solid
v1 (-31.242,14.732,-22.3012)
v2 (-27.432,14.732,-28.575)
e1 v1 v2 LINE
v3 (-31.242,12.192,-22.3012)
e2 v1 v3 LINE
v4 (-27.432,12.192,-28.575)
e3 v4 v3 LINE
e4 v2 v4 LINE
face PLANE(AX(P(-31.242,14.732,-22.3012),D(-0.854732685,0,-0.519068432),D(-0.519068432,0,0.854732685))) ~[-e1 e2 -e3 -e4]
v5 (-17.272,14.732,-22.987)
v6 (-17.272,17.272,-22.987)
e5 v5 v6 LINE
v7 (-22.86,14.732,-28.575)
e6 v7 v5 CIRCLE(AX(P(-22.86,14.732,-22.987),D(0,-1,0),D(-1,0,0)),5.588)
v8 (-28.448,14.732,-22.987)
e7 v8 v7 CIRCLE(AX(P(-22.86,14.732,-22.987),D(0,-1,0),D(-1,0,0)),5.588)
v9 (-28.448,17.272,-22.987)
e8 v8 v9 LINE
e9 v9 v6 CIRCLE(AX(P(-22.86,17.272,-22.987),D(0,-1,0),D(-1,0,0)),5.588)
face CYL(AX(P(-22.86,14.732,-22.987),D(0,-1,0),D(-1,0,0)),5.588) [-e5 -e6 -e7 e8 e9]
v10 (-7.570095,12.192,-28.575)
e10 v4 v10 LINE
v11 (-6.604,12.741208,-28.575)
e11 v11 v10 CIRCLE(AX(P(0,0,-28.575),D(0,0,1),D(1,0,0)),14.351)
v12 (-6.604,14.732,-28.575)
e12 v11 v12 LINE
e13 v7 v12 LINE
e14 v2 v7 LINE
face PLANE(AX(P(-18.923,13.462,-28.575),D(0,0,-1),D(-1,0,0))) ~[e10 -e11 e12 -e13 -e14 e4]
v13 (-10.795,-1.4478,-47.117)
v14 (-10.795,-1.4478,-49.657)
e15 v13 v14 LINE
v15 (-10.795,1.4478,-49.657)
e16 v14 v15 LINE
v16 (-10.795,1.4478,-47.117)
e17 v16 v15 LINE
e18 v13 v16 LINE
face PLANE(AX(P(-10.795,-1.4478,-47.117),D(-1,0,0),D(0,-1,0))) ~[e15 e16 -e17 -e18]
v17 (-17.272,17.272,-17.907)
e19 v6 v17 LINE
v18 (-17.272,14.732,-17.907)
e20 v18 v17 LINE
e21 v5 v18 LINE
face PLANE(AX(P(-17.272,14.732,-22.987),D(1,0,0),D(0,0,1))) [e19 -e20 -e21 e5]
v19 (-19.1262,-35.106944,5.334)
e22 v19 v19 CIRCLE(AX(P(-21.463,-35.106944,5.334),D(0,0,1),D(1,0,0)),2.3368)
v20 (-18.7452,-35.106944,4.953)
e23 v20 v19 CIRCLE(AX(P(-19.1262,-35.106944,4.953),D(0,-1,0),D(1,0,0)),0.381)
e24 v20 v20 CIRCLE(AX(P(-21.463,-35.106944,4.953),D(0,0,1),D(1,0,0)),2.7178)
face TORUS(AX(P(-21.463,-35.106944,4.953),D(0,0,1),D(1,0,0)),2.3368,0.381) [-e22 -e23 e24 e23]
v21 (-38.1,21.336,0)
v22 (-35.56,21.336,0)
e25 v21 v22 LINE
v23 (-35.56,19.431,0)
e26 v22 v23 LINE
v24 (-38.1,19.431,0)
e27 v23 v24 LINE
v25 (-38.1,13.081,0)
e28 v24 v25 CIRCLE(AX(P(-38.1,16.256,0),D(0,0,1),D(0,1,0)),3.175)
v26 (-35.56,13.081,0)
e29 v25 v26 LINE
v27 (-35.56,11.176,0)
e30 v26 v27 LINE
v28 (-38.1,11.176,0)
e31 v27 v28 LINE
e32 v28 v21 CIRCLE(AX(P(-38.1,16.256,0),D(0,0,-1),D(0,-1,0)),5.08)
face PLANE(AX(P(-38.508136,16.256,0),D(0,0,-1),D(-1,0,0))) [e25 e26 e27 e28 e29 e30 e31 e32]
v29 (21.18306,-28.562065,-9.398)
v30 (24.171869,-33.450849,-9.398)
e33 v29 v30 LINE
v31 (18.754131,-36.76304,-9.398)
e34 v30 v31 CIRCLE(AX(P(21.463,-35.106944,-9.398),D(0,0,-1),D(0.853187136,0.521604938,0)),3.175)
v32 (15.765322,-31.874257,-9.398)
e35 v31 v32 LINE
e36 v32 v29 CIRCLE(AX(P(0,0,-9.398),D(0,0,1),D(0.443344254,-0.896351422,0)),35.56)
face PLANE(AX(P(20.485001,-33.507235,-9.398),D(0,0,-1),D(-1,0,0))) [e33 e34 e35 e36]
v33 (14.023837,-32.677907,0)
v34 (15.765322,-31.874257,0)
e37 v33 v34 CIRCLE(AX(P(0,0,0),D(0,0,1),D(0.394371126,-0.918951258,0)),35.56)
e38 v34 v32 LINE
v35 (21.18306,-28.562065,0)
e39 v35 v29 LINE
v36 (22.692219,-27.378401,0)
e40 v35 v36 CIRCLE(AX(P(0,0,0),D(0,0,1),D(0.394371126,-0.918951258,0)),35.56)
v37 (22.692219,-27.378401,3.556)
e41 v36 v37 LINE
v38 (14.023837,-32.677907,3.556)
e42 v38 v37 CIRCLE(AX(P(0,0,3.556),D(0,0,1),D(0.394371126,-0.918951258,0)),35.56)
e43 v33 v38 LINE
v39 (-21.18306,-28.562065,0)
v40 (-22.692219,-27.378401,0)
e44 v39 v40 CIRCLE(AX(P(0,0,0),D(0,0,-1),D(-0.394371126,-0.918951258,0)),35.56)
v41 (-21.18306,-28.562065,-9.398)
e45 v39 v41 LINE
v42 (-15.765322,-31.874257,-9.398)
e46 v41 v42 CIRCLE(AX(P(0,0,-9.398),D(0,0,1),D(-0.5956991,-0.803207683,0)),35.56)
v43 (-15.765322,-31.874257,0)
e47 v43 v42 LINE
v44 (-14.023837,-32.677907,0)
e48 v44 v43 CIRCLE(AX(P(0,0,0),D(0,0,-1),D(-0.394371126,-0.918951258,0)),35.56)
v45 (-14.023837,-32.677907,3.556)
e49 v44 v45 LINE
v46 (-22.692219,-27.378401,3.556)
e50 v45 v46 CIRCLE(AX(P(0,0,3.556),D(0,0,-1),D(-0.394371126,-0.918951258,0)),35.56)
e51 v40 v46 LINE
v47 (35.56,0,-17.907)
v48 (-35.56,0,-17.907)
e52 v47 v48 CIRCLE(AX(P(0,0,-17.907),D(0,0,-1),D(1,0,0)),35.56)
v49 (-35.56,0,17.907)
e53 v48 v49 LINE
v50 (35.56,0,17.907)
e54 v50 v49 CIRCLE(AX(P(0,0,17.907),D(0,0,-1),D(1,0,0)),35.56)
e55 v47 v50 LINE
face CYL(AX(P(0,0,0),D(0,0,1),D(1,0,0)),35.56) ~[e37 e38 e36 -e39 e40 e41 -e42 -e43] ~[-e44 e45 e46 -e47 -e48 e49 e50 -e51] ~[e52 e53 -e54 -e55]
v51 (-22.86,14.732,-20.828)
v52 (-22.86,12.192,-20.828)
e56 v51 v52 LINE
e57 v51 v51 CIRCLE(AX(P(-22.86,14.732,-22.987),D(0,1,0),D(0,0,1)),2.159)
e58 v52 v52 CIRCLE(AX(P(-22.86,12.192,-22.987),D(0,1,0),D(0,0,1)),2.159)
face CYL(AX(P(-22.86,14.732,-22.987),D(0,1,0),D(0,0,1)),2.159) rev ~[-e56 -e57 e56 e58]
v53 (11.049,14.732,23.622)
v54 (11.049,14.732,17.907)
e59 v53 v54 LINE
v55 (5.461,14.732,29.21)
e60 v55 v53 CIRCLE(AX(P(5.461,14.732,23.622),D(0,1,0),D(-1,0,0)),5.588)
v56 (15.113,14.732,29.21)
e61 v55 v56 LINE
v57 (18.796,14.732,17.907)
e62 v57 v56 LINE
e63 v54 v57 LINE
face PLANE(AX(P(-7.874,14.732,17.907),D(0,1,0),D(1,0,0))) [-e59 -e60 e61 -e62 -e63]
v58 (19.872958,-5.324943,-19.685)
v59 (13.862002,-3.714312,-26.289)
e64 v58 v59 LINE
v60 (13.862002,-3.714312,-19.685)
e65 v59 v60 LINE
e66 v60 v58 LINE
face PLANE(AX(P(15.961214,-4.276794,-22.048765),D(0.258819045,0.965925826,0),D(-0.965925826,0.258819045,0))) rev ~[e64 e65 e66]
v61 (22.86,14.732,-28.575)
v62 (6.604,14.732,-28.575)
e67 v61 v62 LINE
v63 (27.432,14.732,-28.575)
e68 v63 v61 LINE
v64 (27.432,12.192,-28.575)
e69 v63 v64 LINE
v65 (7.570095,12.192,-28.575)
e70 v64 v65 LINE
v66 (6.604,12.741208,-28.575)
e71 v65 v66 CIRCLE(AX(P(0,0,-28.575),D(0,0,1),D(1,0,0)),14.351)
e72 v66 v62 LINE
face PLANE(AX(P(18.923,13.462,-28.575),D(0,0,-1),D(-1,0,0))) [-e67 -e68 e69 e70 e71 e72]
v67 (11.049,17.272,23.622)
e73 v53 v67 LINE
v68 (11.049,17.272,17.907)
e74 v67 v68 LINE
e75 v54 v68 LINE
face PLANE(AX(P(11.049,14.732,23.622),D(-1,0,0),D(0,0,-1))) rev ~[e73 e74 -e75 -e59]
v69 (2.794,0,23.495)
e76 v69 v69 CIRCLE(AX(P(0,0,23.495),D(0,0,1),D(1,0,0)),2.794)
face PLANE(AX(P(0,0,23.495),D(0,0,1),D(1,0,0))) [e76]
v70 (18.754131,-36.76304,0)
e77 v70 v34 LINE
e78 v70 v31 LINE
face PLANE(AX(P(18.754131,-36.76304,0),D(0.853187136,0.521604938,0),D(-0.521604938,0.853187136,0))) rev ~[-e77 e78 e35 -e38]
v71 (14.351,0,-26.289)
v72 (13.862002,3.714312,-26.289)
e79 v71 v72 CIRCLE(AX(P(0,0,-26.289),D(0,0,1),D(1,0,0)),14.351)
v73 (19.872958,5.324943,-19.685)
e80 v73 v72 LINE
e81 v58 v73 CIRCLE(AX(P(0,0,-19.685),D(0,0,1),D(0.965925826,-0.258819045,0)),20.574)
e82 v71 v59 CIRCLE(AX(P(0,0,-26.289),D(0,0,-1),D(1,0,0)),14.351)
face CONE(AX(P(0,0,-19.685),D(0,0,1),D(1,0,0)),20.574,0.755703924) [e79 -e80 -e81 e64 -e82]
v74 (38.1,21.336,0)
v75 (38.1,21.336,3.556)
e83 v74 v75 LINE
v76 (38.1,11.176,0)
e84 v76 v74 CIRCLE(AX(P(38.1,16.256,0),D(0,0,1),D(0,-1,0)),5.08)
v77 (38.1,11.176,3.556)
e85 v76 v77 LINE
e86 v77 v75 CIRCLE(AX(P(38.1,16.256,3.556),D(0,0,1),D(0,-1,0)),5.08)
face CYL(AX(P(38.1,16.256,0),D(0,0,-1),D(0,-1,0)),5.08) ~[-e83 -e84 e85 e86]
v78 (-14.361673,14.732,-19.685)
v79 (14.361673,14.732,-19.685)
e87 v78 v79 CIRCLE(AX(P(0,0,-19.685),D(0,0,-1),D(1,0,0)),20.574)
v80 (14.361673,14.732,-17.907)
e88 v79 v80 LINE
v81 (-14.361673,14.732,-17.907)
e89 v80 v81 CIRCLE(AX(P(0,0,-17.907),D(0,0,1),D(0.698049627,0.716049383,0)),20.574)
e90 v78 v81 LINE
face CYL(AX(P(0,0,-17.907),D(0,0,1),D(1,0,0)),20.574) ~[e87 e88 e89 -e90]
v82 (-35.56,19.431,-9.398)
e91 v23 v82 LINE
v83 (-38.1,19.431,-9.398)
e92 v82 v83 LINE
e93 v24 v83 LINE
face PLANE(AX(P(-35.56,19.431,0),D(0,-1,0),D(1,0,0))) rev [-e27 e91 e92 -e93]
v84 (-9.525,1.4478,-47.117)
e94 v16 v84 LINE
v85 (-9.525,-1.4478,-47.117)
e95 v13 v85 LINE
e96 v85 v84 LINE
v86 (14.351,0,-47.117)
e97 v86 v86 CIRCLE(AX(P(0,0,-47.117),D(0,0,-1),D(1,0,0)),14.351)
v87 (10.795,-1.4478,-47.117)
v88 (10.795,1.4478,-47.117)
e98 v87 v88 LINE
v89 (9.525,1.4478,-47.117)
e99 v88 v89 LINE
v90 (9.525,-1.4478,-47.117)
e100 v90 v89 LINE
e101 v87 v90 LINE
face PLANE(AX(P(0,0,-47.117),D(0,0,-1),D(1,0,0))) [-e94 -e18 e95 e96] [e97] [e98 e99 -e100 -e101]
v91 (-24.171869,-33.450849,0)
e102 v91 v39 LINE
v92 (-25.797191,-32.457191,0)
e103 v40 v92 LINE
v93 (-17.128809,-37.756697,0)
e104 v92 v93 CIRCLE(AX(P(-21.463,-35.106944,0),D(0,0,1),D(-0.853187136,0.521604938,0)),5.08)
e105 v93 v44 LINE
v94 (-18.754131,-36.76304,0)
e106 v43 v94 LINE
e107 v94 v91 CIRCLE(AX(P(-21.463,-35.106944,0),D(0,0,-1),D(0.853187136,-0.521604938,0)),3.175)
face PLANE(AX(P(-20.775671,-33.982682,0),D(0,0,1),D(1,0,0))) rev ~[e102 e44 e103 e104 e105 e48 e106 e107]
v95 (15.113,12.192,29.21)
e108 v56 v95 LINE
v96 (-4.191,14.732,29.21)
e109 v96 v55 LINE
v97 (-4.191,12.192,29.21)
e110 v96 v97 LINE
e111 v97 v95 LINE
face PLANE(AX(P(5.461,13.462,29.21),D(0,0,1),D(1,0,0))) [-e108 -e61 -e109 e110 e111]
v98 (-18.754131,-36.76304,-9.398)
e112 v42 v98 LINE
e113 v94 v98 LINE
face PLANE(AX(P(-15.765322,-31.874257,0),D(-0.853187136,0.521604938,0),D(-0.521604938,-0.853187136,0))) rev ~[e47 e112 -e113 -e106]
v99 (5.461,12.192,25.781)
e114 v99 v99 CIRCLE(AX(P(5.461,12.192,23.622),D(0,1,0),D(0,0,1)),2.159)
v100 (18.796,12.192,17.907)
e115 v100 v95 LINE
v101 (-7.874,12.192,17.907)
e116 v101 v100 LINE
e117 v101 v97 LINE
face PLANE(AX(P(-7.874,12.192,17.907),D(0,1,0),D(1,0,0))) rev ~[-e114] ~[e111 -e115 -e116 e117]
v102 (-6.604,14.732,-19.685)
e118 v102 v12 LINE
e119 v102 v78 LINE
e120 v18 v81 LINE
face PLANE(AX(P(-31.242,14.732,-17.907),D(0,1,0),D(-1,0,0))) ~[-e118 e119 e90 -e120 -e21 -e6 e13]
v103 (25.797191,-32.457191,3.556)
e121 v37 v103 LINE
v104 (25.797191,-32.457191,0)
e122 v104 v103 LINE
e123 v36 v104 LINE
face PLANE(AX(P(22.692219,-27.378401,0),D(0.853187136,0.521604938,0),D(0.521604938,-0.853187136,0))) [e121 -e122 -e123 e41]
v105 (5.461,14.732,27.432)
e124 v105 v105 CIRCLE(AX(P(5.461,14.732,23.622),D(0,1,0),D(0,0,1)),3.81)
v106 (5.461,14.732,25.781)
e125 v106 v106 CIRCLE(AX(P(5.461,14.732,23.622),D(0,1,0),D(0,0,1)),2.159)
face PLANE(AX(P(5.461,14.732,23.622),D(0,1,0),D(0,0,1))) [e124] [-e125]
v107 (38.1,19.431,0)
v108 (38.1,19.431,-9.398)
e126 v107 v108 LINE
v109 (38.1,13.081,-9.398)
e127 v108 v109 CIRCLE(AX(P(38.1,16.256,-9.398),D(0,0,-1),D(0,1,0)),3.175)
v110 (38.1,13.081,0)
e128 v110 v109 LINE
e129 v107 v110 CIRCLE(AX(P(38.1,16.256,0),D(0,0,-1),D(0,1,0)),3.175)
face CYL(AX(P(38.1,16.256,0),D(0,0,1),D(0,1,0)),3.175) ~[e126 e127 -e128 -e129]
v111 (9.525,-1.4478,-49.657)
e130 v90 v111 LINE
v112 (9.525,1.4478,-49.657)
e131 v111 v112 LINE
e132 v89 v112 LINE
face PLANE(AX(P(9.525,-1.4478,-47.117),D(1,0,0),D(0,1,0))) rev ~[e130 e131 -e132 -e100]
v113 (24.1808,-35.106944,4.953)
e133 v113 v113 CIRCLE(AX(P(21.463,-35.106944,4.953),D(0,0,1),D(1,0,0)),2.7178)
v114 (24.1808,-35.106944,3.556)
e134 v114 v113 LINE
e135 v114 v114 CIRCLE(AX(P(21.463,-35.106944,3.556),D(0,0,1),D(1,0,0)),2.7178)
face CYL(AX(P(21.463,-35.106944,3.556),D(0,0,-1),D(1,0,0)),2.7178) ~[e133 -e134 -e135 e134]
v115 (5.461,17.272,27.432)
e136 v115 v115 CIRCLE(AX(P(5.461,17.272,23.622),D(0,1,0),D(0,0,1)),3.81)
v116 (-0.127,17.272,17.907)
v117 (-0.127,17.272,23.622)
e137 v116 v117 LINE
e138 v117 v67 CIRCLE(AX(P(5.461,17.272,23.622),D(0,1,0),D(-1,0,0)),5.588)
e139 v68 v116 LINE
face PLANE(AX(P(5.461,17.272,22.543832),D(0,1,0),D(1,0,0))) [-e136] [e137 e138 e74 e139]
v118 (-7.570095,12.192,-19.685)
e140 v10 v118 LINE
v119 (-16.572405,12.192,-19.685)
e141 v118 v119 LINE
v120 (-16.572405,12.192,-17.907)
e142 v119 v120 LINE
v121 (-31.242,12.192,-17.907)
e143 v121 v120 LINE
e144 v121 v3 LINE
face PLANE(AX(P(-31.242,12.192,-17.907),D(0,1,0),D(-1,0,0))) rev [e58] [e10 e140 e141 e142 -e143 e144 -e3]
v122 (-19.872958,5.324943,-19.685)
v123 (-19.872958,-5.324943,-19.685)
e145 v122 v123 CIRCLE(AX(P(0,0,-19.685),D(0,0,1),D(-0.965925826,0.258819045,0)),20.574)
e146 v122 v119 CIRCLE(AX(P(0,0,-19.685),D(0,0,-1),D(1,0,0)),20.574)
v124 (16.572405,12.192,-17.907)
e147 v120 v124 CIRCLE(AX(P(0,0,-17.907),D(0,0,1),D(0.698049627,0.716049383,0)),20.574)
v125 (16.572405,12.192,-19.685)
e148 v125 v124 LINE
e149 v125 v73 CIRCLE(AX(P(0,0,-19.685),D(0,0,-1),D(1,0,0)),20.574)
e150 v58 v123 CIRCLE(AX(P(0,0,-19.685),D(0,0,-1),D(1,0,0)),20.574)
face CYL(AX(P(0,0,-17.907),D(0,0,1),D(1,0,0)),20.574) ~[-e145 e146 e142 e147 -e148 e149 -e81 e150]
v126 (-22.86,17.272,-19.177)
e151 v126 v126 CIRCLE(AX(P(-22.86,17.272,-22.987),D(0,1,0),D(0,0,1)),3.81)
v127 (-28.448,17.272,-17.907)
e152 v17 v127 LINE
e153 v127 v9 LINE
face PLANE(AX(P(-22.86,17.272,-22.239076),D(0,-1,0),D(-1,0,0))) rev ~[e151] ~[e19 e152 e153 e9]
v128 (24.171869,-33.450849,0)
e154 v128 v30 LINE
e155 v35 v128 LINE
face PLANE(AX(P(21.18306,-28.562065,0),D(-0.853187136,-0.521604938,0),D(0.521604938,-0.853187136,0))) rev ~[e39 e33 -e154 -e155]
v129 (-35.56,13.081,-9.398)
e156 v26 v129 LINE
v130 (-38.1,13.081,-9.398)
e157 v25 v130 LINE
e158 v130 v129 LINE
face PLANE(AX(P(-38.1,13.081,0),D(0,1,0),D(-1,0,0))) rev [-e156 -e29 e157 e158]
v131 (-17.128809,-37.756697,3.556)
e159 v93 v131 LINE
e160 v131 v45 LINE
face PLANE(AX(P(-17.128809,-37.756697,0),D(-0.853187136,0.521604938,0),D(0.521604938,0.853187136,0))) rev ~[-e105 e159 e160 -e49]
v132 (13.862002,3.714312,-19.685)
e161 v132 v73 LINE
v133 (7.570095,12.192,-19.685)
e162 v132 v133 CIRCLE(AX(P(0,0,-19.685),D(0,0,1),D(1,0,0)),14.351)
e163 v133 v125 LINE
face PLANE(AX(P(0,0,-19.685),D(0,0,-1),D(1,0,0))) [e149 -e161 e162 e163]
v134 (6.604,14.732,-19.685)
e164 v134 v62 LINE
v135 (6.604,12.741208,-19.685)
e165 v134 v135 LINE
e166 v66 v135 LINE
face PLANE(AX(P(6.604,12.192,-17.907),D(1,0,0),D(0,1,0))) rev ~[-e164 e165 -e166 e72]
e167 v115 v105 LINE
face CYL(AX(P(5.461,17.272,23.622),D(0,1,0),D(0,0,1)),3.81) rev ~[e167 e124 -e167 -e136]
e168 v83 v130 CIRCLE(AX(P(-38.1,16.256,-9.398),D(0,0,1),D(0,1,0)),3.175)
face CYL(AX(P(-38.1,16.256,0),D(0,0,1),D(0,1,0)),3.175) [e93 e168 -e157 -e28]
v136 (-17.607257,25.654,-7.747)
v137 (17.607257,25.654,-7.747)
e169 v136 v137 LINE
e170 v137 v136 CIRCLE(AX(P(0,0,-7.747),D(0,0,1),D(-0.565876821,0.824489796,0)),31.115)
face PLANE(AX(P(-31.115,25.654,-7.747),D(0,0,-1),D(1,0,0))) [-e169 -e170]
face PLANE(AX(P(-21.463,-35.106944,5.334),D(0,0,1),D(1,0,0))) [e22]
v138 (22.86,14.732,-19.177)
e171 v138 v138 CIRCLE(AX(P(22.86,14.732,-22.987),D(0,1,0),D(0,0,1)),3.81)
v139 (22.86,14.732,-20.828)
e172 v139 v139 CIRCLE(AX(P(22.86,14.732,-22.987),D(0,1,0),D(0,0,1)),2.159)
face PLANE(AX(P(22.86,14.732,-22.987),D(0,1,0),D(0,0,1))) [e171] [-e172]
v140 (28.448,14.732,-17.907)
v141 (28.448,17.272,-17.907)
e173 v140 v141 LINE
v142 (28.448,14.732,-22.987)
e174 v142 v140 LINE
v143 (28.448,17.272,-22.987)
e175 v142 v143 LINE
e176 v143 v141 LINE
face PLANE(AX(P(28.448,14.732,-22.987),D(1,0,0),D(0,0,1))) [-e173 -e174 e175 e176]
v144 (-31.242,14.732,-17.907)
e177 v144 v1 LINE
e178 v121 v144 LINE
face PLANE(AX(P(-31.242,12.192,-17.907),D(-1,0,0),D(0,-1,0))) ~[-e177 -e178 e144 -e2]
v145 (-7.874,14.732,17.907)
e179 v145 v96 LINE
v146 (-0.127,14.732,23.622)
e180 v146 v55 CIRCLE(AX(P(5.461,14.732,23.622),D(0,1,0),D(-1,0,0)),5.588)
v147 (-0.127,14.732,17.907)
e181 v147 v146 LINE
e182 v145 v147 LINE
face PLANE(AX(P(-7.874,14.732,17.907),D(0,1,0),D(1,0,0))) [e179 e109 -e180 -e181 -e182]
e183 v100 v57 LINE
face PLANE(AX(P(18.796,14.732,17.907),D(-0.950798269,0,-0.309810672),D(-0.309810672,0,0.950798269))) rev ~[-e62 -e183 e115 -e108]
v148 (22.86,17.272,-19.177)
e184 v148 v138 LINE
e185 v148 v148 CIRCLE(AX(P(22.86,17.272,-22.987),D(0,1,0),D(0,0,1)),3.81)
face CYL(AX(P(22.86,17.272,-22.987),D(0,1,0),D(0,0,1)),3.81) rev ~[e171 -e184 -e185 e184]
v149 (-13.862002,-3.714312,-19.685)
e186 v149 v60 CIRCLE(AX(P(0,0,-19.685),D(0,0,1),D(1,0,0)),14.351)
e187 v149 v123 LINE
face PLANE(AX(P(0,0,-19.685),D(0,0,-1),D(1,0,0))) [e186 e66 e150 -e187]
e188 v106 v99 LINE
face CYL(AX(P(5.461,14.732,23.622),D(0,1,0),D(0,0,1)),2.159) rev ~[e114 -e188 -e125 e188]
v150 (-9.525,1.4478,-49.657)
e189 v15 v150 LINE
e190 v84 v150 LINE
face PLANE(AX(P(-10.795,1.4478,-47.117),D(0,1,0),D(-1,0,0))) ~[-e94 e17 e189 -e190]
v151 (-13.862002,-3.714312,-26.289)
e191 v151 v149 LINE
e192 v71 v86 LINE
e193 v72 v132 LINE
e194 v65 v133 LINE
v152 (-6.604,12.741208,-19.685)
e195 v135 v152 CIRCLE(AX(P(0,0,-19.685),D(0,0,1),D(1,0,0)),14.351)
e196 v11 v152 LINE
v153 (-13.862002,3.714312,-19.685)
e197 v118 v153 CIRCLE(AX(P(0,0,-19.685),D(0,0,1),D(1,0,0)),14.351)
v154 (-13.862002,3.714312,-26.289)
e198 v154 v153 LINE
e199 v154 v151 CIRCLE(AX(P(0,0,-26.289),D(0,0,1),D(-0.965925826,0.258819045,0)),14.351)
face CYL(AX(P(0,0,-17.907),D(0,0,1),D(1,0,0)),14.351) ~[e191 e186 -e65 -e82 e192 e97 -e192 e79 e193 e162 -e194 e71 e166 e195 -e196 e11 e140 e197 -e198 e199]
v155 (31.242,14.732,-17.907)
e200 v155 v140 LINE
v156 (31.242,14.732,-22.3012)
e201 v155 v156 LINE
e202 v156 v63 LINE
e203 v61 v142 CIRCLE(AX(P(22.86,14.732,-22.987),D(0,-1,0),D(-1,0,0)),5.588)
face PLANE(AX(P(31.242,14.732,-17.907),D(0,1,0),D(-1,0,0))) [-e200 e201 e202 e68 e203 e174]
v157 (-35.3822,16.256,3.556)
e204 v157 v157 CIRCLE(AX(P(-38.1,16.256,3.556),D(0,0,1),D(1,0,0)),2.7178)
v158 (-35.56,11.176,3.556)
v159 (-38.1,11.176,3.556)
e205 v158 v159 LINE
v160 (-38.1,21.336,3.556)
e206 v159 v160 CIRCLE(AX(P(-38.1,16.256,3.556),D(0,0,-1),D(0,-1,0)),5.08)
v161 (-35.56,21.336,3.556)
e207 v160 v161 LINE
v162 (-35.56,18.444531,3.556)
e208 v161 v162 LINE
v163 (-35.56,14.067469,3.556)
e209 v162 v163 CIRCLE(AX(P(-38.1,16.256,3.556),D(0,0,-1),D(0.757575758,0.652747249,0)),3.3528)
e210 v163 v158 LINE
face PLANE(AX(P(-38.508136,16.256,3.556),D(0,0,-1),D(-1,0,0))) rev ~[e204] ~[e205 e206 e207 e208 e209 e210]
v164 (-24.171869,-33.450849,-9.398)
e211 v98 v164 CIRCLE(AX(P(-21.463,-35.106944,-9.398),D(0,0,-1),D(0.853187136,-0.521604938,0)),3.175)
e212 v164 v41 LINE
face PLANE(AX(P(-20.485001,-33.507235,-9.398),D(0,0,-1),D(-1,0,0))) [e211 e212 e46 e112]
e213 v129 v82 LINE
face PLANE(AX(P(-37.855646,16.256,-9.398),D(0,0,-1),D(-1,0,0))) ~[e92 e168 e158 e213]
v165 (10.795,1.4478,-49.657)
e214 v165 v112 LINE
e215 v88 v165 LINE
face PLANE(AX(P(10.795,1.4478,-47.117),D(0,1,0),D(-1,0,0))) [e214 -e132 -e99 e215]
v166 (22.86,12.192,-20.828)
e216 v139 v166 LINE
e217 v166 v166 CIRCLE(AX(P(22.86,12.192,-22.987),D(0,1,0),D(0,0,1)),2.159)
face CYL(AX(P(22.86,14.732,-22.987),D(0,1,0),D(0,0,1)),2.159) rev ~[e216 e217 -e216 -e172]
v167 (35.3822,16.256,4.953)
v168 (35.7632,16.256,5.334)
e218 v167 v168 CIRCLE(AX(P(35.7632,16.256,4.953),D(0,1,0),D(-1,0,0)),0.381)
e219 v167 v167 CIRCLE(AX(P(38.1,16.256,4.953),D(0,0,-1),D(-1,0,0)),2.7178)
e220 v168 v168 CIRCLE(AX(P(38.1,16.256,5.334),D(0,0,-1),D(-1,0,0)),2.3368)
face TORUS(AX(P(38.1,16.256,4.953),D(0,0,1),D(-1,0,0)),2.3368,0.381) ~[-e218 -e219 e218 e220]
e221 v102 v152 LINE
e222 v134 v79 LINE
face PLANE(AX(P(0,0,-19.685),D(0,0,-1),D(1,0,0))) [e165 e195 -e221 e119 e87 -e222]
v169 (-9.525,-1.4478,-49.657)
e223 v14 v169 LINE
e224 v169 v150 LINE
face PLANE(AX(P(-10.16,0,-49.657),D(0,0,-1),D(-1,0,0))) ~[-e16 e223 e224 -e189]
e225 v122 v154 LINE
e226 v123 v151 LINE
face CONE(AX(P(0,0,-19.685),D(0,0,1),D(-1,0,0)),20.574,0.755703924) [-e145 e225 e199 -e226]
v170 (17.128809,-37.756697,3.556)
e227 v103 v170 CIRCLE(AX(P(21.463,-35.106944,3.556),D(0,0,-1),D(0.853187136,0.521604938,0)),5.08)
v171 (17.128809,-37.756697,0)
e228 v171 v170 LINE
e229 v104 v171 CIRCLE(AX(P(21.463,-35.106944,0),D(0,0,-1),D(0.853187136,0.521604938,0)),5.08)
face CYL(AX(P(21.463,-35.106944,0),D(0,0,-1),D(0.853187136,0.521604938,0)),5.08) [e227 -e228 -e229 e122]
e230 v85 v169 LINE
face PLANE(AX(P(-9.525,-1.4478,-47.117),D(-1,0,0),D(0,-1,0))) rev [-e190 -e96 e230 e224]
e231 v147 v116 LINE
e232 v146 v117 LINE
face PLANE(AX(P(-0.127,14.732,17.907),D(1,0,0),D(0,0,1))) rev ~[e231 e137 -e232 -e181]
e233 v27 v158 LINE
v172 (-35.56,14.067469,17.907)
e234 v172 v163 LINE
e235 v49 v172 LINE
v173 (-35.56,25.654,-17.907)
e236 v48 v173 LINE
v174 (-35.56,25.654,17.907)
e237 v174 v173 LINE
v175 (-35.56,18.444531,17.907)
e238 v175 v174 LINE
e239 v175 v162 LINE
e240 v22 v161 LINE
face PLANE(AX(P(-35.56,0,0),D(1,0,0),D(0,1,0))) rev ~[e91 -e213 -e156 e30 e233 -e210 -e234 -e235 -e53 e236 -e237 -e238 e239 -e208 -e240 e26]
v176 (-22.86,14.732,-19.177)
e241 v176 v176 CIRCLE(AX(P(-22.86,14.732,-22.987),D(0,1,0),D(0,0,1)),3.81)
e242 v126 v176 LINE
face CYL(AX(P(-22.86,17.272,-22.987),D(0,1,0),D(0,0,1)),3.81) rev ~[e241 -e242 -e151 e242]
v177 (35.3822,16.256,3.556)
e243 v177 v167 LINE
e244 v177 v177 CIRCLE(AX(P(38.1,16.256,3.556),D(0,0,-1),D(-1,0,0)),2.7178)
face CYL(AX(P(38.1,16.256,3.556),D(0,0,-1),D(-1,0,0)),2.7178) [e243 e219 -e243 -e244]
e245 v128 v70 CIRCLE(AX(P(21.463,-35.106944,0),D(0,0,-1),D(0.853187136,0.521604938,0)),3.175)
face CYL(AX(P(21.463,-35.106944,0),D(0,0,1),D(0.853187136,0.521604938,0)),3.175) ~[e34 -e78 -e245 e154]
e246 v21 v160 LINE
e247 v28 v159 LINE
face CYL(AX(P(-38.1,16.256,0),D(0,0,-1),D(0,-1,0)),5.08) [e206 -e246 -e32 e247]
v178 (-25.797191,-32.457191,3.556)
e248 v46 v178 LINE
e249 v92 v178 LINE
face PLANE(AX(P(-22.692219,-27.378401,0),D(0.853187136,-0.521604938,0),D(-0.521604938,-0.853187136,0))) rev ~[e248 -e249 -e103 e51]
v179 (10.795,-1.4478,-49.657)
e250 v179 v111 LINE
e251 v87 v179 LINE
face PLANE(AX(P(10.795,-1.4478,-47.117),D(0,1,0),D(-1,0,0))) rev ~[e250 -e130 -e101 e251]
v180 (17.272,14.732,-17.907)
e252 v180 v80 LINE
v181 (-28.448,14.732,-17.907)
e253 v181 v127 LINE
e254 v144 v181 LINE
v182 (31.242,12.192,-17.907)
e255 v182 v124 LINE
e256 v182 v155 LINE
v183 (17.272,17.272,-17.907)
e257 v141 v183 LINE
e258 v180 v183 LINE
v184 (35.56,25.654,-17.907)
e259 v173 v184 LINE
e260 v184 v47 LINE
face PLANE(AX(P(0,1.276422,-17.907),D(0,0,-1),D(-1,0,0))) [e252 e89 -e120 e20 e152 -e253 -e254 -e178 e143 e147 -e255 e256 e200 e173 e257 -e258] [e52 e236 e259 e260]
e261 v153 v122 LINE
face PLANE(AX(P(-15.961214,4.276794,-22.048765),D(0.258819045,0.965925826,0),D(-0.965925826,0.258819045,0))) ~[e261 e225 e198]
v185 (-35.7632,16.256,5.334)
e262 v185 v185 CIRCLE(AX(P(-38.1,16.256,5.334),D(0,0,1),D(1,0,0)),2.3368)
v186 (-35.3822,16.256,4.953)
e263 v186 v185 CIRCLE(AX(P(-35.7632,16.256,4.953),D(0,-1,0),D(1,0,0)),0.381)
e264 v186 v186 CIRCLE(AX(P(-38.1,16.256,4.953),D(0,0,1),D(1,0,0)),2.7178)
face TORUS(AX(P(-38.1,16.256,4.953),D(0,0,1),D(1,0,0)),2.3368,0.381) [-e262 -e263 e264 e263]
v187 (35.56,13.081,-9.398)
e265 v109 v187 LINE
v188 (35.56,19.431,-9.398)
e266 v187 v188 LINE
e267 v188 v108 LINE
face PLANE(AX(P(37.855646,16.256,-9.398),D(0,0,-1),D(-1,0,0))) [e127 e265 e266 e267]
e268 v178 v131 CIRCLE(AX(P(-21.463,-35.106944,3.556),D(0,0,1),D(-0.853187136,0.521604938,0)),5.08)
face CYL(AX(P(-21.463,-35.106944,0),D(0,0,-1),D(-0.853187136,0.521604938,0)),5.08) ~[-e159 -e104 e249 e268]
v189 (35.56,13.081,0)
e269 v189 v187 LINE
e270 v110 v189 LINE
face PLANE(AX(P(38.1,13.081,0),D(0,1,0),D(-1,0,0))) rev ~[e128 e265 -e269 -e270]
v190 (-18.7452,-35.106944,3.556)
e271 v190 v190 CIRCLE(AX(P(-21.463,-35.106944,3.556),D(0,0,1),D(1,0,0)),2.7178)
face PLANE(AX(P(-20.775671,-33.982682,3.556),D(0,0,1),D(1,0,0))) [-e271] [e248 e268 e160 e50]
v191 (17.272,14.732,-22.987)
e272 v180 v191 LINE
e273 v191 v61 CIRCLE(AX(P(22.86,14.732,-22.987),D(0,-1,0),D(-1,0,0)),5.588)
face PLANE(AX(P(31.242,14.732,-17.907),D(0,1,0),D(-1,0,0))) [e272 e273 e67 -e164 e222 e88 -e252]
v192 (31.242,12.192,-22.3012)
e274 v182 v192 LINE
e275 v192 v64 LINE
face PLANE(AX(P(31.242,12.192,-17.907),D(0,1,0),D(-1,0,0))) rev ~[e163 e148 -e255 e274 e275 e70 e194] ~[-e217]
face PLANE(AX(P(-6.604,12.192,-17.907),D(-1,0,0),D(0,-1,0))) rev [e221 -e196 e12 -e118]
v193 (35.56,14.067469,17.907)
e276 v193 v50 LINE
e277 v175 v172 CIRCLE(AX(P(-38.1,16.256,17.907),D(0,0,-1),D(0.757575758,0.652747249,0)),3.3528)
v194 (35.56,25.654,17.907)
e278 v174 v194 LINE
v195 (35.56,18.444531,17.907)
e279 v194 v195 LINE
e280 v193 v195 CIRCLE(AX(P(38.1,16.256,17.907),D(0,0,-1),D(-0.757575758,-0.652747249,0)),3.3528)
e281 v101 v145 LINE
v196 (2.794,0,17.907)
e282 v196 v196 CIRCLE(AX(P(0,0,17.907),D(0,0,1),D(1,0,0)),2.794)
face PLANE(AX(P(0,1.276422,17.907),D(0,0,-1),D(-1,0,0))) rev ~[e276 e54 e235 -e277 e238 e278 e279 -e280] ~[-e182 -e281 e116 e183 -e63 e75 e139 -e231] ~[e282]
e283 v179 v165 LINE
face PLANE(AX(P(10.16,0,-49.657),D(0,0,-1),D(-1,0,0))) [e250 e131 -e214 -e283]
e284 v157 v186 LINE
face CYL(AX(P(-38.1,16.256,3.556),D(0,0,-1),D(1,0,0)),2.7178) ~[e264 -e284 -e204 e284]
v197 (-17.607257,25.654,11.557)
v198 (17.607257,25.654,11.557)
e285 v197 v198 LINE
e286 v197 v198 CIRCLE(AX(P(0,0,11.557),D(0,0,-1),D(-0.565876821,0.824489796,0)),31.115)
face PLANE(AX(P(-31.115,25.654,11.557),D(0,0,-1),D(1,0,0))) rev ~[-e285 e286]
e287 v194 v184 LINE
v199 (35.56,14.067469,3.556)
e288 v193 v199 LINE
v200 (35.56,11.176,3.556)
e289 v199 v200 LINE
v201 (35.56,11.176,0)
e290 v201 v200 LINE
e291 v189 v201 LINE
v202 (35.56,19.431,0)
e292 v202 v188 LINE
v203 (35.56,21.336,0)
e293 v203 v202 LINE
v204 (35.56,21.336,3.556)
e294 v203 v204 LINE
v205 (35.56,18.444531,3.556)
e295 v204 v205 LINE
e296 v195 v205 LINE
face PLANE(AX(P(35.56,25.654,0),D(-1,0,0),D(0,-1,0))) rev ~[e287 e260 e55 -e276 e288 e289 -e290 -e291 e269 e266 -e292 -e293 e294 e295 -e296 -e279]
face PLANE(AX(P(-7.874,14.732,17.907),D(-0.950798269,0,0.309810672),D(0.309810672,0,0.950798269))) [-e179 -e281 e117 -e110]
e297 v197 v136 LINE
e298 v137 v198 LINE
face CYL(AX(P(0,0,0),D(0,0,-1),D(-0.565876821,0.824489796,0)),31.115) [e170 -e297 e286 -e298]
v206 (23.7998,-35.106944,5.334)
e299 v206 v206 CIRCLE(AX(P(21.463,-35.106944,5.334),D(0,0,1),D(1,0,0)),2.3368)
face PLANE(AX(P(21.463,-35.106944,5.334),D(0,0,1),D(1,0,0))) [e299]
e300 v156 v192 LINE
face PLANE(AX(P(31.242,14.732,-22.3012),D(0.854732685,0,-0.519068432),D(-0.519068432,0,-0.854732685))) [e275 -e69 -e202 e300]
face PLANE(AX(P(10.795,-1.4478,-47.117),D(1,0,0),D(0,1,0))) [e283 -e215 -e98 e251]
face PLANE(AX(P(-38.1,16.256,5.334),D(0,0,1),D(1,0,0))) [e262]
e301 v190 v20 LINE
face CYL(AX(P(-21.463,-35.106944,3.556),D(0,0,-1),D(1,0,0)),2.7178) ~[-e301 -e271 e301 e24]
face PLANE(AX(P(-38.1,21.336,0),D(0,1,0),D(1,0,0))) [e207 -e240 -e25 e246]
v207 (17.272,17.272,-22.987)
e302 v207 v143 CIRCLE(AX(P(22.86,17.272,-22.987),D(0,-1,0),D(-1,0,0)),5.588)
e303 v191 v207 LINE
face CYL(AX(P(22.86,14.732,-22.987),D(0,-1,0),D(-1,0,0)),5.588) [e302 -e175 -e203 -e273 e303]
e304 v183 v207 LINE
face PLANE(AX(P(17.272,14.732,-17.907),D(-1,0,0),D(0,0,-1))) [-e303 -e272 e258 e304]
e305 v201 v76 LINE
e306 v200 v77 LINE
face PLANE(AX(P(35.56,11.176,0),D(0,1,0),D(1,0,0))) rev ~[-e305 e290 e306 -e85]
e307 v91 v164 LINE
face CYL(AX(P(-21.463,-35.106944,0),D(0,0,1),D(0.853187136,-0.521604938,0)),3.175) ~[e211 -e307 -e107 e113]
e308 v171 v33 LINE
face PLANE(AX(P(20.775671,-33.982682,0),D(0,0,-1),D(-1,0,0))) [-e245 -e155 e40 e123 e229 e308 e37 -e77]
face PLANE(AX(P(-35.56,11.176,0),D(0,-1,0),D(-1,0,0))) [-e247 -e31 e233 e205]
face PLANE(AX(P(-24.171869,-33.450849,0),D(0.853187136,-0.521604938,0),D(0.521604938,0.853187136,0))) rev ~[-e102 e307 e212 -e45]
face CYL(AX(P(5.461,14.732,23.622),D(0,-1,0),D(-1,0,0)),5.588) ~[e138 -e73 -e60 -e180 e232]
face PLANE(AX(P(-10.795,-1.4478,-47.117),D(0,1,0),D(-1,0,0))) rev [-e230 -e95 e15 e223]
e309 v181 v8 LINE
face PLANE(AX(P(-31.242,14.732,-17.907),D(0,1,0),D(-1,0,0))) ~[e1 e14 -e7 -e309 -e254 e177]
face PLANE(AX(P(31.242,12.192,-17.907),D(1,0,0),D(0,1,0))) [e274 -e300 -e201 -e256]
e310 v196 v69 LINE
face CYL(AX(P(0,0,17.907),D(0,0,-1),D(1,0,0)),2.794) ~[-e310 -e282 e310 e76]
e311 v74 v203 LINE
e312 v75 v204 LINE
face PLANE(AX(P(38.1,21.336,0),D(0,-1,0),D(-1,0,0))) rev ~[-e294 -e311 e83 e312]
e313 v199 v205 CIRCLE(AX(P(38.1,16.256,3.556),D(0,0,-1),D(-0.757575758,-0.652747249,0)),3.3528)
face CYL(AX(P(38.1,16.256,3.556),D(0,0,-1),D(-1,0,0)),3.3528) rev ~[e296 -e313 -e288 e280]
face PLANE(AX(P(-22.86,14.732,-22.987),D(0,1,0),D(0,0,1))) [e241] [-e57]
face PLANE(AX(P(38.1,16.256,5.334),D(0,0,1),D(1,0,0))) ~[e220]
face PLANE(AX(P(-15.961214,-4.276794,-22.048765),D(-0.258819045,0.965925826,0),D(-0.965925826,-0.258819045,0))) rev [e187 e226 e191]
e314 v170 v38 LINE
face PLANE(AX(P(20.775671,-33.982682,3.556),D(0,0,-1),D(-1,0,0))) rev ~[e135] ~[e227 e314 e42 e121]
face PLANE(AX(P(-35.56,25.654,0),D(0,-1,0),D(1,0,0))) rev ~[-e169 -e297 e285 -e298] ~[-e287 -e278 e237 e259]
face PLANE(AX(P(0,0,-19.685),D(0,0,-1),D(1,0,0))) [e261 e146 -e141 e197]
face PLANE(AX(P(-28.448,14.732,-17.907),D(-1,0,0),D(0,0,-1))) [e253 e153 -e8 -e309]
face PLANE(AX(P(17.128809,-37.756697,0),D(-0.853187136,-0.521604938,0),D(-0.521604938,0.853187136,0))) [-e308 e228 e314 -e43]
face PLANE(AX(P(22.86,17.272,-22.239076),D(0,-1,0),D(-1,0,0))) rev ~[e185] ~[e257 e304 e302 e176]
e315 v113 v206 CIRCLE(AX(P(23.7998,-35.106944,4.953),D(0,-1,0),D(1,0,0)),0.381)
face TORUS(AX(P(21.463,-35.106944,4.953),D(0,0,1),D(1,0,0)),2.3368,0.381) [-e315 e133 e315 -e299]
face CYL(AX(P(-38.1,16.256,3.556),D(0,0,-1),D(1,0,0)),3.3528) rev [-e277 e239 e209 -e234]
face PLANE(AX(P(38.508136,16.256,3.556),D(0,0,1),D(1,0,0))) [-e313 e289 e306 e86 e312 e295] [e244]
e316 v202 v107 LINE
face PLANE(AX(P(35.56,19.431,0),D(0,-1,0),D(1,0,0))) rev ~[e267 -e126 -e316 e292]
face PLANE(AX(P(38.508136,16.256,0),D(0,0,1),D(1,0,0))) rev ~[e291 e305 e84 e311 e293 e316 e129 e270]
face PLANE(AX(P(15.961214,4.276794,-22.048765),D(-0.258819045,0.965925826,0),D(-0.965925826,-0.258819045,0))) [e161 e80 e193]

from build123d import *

# Parameters (mm, degrees)
BOSS_EXTRUDE1_DEPTH     = 17.907
SKETCH3_W               = 62.23
SKETCH3_H               = 19.304
BOSS_EXTRUDE3_DEPTH     = 19.05
CUT_EXTRUDE2_DEPTH      = 60.863359954
CUT_EXTRUDE2_DEPTH_BACK = 60.863359954
SKETCH7_R               = 14.351
BOSS_EXTRUDE5_DEPTH     = 29.21
SKETCH8_R               = 20.574
BOSS_EXTRUDE6_DEPTH     = 1.778
SKETCH9_R               = 2.794
BOSS_EXTRUDE7_DEPTH     = 5.588
SKETCH10_W              = 26.67
SKETCH10_H              = 2.54
BOSS_EXTRUDE8_DEPTH     = 11.303
CUT_EXTRUDE3_DEPTH      = 78.548762421
REVOLVE1_ANGLE          = 30
BOSS_EXTRUDE11_DEPTH    = 2.54
SKETCH19_R              = 3.81
CUT_EXTRUDE4_DEPTH      = 2.54
SKETCH20_R              = 2.159
CUT_EXTRUDE5_DEPTH      = 78.548762421
SKETCH21_W              = 24.638
SKETCH21_H              = 2.54
BOSS_EXTRUDE12_DEPTH    = 10.668
CUT_EXTRUDE6_DEPTH      = 78.548762421
BOSS_EXTRUDE13_DEPTH    = 2.54
SKETCH26_R              = 3.81
CUT_EXTRUDE7_DEPTH      = 2.54
SKETCH28_R              = 2.159
CUT_EXTRUDE8_DEPTH      = 104.988913405
BOSS_EXTRUDE14_DEPTH    = 2.54
SKETCH32_R              = 3.81
CUT_EXTRUDE9_DEPTH      = 2.54
SKETCH34_R              = 2.159
CUT_EXTRUDE10_DEPTH     = 117.535407804
SKETCH35_W              = 1.27
SKETCH35_H              = 2.8956
BOSS_EXTRUDE15_DEPTH    = 2.54
BOSS_EXTRUDE16_DEPTH    = 3.556
BOSS_EXTRUDE17_DEPTH    = 9.398
BOSS_EXTRUDE20_START    = 3.556
BOSS_EXTRUDE20_DEPTH    = 3.556
BOSS_EXTRUDE21_DEPTH    = 9.398
SKETCH46_R              = 3.3528
CUT_EXTRUDE11_DEPTH     = 14.732
SKETCH47_R              = 2.7178
BOSS_EXTRUDE22_DEPTH    = 1.778
SKETCH48_R              = 2.7178
BOSS_EXTRUDE23_DEPTH    = 1.778
SKETCH49_R              = 2.7178
BOSS_EXTRUDE24_DEPTH    = 1.778
FILLET2_R               = 0.381


with BuildPart() as part:
    # Sketch1 → Boss-Extrude1 (new, symmetric)
    with BuildSketch(Plane.XY):
        with BuildLine():
            Line((-35.56, 0), (-35.56, 25.654))
            Line((-35.56, 25.654), (35.56, 25.654))
            Line((35.56, 25.654), (35.56, 0))
            ThreePointArc((35.56, 0), (0, -35.56), (-35.56, 0))
        make_face()
    extrude(amount=BOSS_EXTRUDE1_DEPTH, both=True)

    # Sketch3 → Boss-Extrude3 (add)
    with BuildSketch(Plane(origin=(0, 25.654, 0), x_dir=(1, 0, 0), z_dir=(0, 1, 0))):
        with Locations((0, -1.905)):
            Rectangle(SKETCH3_W, SKETCH3_H)
    extrude(amount=BOSS_EXTRUDE3_DEPTH)

    # Sketch2 → Cut-Extrude2 (cut, two sides: drawn at the far end of the back side and taken through both)
    with BuildSketch(Plane.XY.offset(-CUT_EXTRUDE2_DEPTH_BACK)):
        with BuildLine():
            Line((17.607257282, 25.654), (31.115, 25.654))
            Line((31.115, 25.654), (31.115, 44.704))
            Line((31.115, 44.704), (-31.115, 44.704))
            Line((-31.115, 44.704), (-31.115, 25.654))
            Line((-31.115, 25.654), (-17.607257282, 25.654))
            ThreePointArc((-17.607257282, 25.654), (0, 31.115), (17.607257282, 25.654))
        make_face()
    extrude(amount=CUT_EXTRUDE2_DEPTH + CUT_EXTRUDE2_DEPTH_BACK, mode=Mode.SUBTRACT)

    # Sketch7 → Boss-Extrude5 (add)
    with BuildSketch(Plane(origin=(0, 0, -17.907), x_dir=(-1, 0, 0), z_dir=(0, 0, -1))):
        Circle(SKETCH7_R)
    extrude(amount=BOSS_EXTRUDE5_DEPTH)

    # Sketch8 → Boss-Extrude6 (add)
    with BuildSketch(Plane(origin=(0, 0, -17.907), x_dir=(-1, 0, 0), z_dir=(0, 0, -1))):
        Circle(SKETCH8_R)
    extrude(amount=BOSS_EXTRUDE6_DEPTH)

    # Sketch9 → Boss-Extrude7 (add)
    with BuildSketch(Plane.XY.offset(17.907)):
        Circle(SKETCH9_R)
    extrude(amount=BOSS_EXTRUDE7_DEPTH)

    # Sketch10 → Boss-Extrude8 (add)
    with BuildSketch(Plane.XY.offset(17.907)):
        with Locations((5.461, 13.462)):
            Rectangle(SKETCH10_W, SKETCH10_H)
    extrude(amount=BOSS_EXTRUDE8_DEPTH)

    # Sketch11 → Cut-Extrude3 (cut, through all)
    with BuildSketch(Plane(origin=(0, 14.732, 0), x_dir=(1, 0, 0), z_dir=(0, 1, 0))):
        Polygon((-7.874, -17.907), (-4.191, -29.21), (-7.874, -29.21), align=None)
        Polygon((18.796, -17.907), (15.113, -29.21), (18.796, -29.21), align=None)
    extrude(amount=-CUT_EXTRUDE3_DEPTH, mode=Mode.SUBTRACT)

    # Sketch15 → Revolve1 (revolve, symmetric)
    with BuildSketch(Plane(origin=(0, 0, 0), x_dir=(-1, 0, 0), z_dir=(0, 1, 0))) as revolve1_sk:
        Polygon((-14.351, -26.289), (-14.351, -19.685), (-20.574, -19.685), align=None)
    revolve1 = revolve(axis=Axis((0, 0, -47.117), (0, 0, 1)), revolution_arc=REVOLVE1_ANGLE / 2)
    revolve1 = revolve1 + revolve(revolve1_sk.sketch, axis=Axis((0, 0, -47.117), (0, 0, -1)), revolution_arc=REVOLVE1_ANGLE / 2)

    # Mirror4: Revolve1 across plane
    add(revolve1.mirror(Plane(origin=(0, 0, 0), x_dir=(0, 0, 1), z_dir=(1, 0, 0))))

    # Sketch16 → Boss-Extrude11 (add)
    with BuildSketch(Plane(origin=(0, 14.732, 0), x_dir=(1, 0, 0), z_dir=(0, 1, 0))):
        with BuildLine():
            Line((-0.127, -17.907), (-0.127, -23.622))
            ThreePointArc((-0.127, -23.622), (5.461, -29.21), (11.049, -23.622))
            Line((11.049, -23.622), (11.049, -17.907))
            Line((11.049, -17.907), (-0.127, -17.907))
        make_face()
    extrude(amount=BOSS_EXTRUDE11_DEPTH)

    # Sketch19 → Cut-Extrude4 (cut)
    with BuildSketch(Plane(origin=(0, 17.272, 0), x_dir=(1, 0, 0), z_dir=(0, 1, 0))):
        with Locations((5.461, -23.622)):
            Circle(SKETCH19_R)
    extrude(amount=-CUT_EXTRUDE4_DEPTH, mode=Mode.SUBTRACT)

    # Sketch20 → Cut-Extrude5 (cut, through all)
    with BuildSketch(Plane(origin=(0, 14.732, 0), x_dir=(1, 0, 0), z_dir=(0, 1, 0))):
        with Locations((5.461, -23.622)):
            Circle(SKETCH20_R)
    extrude(amount=-CUT_EXTRUDE5_DEPTH, mode=Mode.SUBTRACT)

    # Sketch21 → Boss-Extrude12 (add)
    with BuildSketch(Plane(origin=(0, 0, -17.907), x_dir=(-1, 0, 0), z_dir=(0, 0, -1))):
        with Locations((-18.923, 13.462)):
            Rectangle(SKETCH21_W, SKETCH21_H)
    boss_extrude12 = extrude(amount=BOSS_EXTRUDE12_DEPTH)

    # Sketch22 → Cut-Extrude6 (cut, through all)
    with BuildSketch(Plane(origin=(0, 14.732, 0), x_dir=(1, 0, 0), z_dir=(0, 1, 0))):
        Polygon((31.242, 22.3012), (27.432, 28.575), (31.242, 28.575), align=None)
    cut_extrude6 = extrude(amount=-CUT_EXTRUDE6_DEPTH, mode=Mode.SUBTRACT)

    # Sketch24 → Boss-Extrude13 (add)
    with BuildSketch(Plane(origin=(10.777761336, 14.732, -49.130415633), x_dir=(1, 0, 0), z_dir=(0, 1, 0))):
        with BuildLine():
            Line((6.494238664, -31.223415633), (6.494238664, -26.143415633))
            ThreePointArc((6.494238664, -26.143415633), (12.082238664, -20.555415633), (17.670238664, -26.143415633))
            Line((17.670238664, -26.143415633), (17.670238664, -31.223415633))
            Line((17.670238664, -31.223415633), (6.494238664, -31.223415633))
        make_face()
    extrude(amount=BOSS_EXTRUDE13_DEPTH)

    # Sketch26 → Cut-Extrude7 (cut)
    with BuildSketch(Plane(origin=(10.777761336, 17.272, -49.130415633), x_dir=(1, 0, 0), z_dir=(0, 1, 0))):
        with Locations((12.082238664, -26.143415633)):
            Circle(SKETCH26_R)
    extrude(amount=-CUT_EXTRUDE7_DEPTH, mode=Mode.SUBTRACT)

    # Sketch28 → Cut-Extrude8 (cut, through all)
    with BuildSketch(Plane(origin=(10.777761336, 14.732, -49.130415633), x_dir=(1, 0, 0), z_dir=(0, 1, 0))):
        with Locations((12.082238664, -26.143415633)):
            Circle(SKETCH28_R)
    extrude(amount=-CUT_EXTRUDE8_DEPTH, mode=Mode.SUBTRACT)

    # Mirror5: Boss-Extrude12, Cut-Extrude6 across plane
    add(boss_extrude12.mirror(Plane(origin=(0, 0, 0), x_dir=(0, 0, 1), z_dir=(1, 0, 0))))
    add(cut_extrude6.mirror(Plane(origin=(0, 0, 0), x_dir=(0, 0, 1), z_dir=(1, 0, 0))), mode=Mode.SUBTRACT)

    # Sketch30 → Boss-Extrude14 (add)
    with BuildSketch(Plane(origin=(-34.117661683, 14.732, -49.506195732), x_dir=(1, 0, 0), z_dir=(0, 1, 0))):
        with BuildLine():
            Line((5.669661683, -31.599195732), (5.669661683, -26.519195732))
            ThreePointArc((5.669661683, -26.519195732), (11.257661683, -20.931195732), (16.845661683, -26.519195732))
            Line((16.845661683, -26.519195732), (16.845661683, -31.599195732))
            Line((16.845661683, -31.599195732), (5.669661683, -31.599195732))
        make_face()
    extrude(amount=BOSS_EXTRUDE14_DEPTH)

    # Sketch32 → Cut-Extrude9 (cut)
    with BuildSketch(Plane(origin=(-34.117661683, 17.272, -49.506195732), x_dir=(1, 0, 0), z_dir=(0, 1, 0))):
        with Locations((11.257661683, -26.519195732)):
            Circle(SKETCH32_R)
    extrude(amount=-CUT_EXTRUDE9_DEPTH, mode=Mode.SUBTRACT)

    # Sketch34 → Cut-Extrude10 (cut, through all)
    with BuildSketch(Plane(origin=(-34.117661683, 14.732, -49.506195732), x_dir=(1, 0, 0), z_dir=(0, 1, 0))):
        with Locations((11.257661683, -26.519195732)):
            Circle(SKETCH34_R)
    extrude(amount=-CUT_EXTRUDE10_DEPTH, mode=Mode.SUBTRACT)

    # Sketch35 → Boss-Extrude15 (add)
    with BuildSketch(Plane(origin=(0, 0, -47.117), x_dir=(-1, 0, 0), z_dir=(0, 0, -1))):
        with Locations((-10.16, 0)):
            Rectangle(SKETCH35_W, SKETCH35_H)
    boss_extrude15 = extrude(amount=BOSS_EXTRUDE15_DEPTH)

    # Mirror6: Boss-Extrude15 across plane
    add(boss_extrude15.mirror(Plane(origin=(0, 0, 0), x_dir=(0, 0, 1), z_dir=(1, 0, 0))))

    # Sketch37 → Boss-Extrude16 (add)
    with BuildSketch(Plane.XY):
        with BuildLine():
            Line((38.1, 21.336), (35.56, 21.336))
            Line((35.56, 21.336), (35.56, 11.176))
            Line((35.56, 11.176), (38.1, 11.176))
            ThreePointArc((38.1, 11.176), (43.18, 16.256), (38.1, 21.336))
        make_face()
        with BuildLine():
            Line((-38.1, 21.336), (-35.56, 21.336))
            Line((-35.56, 21.336), (-35.56, 11.176))
            Line((-35.56, 11.176), (-38.1, 11.176))
            ThreePointArc((-38.1, 11.176), (-43.18, 16.256), (-38.1, 21.336))
        make_face()
    extrude(amount=BOSS_EXTRUDE16_DEPTH)

    # Sketch38 → Boss-Extrude17 (add)
    with BuildSketch(Plane(origin=(0, 0, 0), x_dir=(-1, 0, 0), z_dir=(0, 0, -1))):
        with BuildLine():
            Line((-35.56, 13.081), (-35.56, 19.431))
            Line((-35.56, 19.431), (-38.1, 19.431))
            ThreePointArc((-38.1, 19.431), (-41.275, 16.256), (-38.1, 13.081))
            Line((-38.1, 13.081), (-35.56, 13.081))
        make_face()
    boss_extrude17 = extrude(amount=BOSS_EXTRUDE17_DEPTH)

    # Mirror7: Boss-Extrude17 across plane
    add(boss_extrude17.mirror(Plane(origin=(0, 0, 0), x_dir=(0, 0, 1), z_dir=(1, 0, 0))))

    # Sketch43 → Boss-Extrude20 (add)
    with BuildSketch(Plane.XY.offset(BOSS_EXTRUDE20_START)):
        with BuildLine():
            Line((-22.692218542, -27.378400568), (-25.797190649, -32.45719117))
            ThreePointArc((-25.797190649, -32.45719117), (-24.112753086, -39.441134905), (-17.128809351, -37.756697343))
            Line((-17.128809351, -37.756697343), (-14.023837244, -32.677906741))
            ThreePointArc((-14.023837244, -32.677906741), (-18.548271605, -30.339334542), (-22.692218542, -27.378400568))
        make_face()
        with BuildLine():
            Line((22.692218542, -27.378400568), (25.797190649, -32.45719117))
            ThreePointArc((25.797190649, -32.45719117), (24.112753086, -39.441134905), (17.128809351, -37.756697343))
            Line((17.128809351, -37.756697343), (14.023837244, -32.677906741))
            ThreePointArc((14.023837244, -32.677906741), (18.548271605, -30.339334542), (22.692218542, -27.378400568))
        make_face()
    extrude(amount=-BOSS_EXTRUDE20_DEPTH)

    # Sketch45 → Boss-Extrude21 (add)
    with BuildSketch(Plane.XY):
        with BuildLine():
            Line((21.18305998, -28.562065224), (24.171869156, -33.450848577))
            ThreePointArc((24.171869156, -33.450848577), (23.119095679, -37.815813412), (18.754130844, -36.763039935))
            Line((18.754130844, -36.763039935), (15.765321669, -31.874256582))
            ThreePointArc((15.765321669, -31.874256582), (18.548271605, -30.339334542), (21.18305998, -28.562065224))
        make_face()
        with BuildLine():
            Line((-15.765321669, -31.874256582), (-18.754130844, -36.763039935))
            ThreePointArc((-18.754130844, -36.763039935), (-23.119095679, -37.815813412), (-24.171869156, -33.450848577))
            Line((-24.171869156, -33.450848577), (-21.18305998, -28.562065224))
            ThreePointArc((-21.18305998, -28.562065224), (-18.548271605, -30.339334542), (-15.765321669, -31.874256582))
        make_face()
    extrude(amount=-BOSS_EXTRUDE21_DEPTH)

    # Sketch46 → Cut-Extrude11 (cut)
    with BuildSketch(Plane.XY.offset(3.556)):
        with Locations((-38.1, 16.256)):
            Circle(SKETCH46_R)
    cut_extrude11 = extrude(amount=CUT_EXTRUDE11_DEPTH, mode=Mode.SUBTRACT)

    # Mirror8: Cut-Extrude11 across plane
    add(cut_extrude11.mirror(Plane(origin=(0, 0, 0), x_dir=(0, 0, 1), z_dir=(1, 0, 0))), mode=Mode.SUBTRACT)

    # Sketch47 → Boss-Extrude22 (add)
    with BuildSketch(Plane.XY.offset(3.556)):
        with Locations((-38.1, 16.256)):
            Circle(SKETCH47_R)
    boss_extrude22 = extrude(amount=BOSS_EXTRUDE22_DEPTH)

    # Mirror9: Boss-Extrude22 across plane
    add(boss_extrude22.mirror(Plane(origin=(0, 0, 0), x_dir=(0, 0, 1), z_dir=(1, 0, 0))))

    # Sketch48 → Boss-Extrude23 (add)
    with BuildSketch(Plane.XY.offset(3.556)):
        with Locations((-21.463, -35.106944256)):
            Circle(SKETCH48_R)
    extrude(amount=BOSS_EXTRUDE23_DEPTH)

    # Sketch49 → Boss-Extrude24 (add)
    with BuildSketch(Plane.XY.offset(3.556)):
        with Locations((21.463, -35.106944256)):
            Circle(SKETCH49_R)
    extrude(amount=BOSS_EXTRUDE24_DEPTH)

    # Fillet2
    fillet2_edges = [part.edges().sort_by_distance(p)[0] for p in [
        (40.8178, 16.256, 5.334),
        (18.7452, -35.106944256, 5.334),
        (-40.8178, 16.256, 5.334),
        (-24.1808, -35.106944256, 5.334),
    ]]
    fillet(fillet2_edges, radius=FILLET2_R)


solid = part.part
